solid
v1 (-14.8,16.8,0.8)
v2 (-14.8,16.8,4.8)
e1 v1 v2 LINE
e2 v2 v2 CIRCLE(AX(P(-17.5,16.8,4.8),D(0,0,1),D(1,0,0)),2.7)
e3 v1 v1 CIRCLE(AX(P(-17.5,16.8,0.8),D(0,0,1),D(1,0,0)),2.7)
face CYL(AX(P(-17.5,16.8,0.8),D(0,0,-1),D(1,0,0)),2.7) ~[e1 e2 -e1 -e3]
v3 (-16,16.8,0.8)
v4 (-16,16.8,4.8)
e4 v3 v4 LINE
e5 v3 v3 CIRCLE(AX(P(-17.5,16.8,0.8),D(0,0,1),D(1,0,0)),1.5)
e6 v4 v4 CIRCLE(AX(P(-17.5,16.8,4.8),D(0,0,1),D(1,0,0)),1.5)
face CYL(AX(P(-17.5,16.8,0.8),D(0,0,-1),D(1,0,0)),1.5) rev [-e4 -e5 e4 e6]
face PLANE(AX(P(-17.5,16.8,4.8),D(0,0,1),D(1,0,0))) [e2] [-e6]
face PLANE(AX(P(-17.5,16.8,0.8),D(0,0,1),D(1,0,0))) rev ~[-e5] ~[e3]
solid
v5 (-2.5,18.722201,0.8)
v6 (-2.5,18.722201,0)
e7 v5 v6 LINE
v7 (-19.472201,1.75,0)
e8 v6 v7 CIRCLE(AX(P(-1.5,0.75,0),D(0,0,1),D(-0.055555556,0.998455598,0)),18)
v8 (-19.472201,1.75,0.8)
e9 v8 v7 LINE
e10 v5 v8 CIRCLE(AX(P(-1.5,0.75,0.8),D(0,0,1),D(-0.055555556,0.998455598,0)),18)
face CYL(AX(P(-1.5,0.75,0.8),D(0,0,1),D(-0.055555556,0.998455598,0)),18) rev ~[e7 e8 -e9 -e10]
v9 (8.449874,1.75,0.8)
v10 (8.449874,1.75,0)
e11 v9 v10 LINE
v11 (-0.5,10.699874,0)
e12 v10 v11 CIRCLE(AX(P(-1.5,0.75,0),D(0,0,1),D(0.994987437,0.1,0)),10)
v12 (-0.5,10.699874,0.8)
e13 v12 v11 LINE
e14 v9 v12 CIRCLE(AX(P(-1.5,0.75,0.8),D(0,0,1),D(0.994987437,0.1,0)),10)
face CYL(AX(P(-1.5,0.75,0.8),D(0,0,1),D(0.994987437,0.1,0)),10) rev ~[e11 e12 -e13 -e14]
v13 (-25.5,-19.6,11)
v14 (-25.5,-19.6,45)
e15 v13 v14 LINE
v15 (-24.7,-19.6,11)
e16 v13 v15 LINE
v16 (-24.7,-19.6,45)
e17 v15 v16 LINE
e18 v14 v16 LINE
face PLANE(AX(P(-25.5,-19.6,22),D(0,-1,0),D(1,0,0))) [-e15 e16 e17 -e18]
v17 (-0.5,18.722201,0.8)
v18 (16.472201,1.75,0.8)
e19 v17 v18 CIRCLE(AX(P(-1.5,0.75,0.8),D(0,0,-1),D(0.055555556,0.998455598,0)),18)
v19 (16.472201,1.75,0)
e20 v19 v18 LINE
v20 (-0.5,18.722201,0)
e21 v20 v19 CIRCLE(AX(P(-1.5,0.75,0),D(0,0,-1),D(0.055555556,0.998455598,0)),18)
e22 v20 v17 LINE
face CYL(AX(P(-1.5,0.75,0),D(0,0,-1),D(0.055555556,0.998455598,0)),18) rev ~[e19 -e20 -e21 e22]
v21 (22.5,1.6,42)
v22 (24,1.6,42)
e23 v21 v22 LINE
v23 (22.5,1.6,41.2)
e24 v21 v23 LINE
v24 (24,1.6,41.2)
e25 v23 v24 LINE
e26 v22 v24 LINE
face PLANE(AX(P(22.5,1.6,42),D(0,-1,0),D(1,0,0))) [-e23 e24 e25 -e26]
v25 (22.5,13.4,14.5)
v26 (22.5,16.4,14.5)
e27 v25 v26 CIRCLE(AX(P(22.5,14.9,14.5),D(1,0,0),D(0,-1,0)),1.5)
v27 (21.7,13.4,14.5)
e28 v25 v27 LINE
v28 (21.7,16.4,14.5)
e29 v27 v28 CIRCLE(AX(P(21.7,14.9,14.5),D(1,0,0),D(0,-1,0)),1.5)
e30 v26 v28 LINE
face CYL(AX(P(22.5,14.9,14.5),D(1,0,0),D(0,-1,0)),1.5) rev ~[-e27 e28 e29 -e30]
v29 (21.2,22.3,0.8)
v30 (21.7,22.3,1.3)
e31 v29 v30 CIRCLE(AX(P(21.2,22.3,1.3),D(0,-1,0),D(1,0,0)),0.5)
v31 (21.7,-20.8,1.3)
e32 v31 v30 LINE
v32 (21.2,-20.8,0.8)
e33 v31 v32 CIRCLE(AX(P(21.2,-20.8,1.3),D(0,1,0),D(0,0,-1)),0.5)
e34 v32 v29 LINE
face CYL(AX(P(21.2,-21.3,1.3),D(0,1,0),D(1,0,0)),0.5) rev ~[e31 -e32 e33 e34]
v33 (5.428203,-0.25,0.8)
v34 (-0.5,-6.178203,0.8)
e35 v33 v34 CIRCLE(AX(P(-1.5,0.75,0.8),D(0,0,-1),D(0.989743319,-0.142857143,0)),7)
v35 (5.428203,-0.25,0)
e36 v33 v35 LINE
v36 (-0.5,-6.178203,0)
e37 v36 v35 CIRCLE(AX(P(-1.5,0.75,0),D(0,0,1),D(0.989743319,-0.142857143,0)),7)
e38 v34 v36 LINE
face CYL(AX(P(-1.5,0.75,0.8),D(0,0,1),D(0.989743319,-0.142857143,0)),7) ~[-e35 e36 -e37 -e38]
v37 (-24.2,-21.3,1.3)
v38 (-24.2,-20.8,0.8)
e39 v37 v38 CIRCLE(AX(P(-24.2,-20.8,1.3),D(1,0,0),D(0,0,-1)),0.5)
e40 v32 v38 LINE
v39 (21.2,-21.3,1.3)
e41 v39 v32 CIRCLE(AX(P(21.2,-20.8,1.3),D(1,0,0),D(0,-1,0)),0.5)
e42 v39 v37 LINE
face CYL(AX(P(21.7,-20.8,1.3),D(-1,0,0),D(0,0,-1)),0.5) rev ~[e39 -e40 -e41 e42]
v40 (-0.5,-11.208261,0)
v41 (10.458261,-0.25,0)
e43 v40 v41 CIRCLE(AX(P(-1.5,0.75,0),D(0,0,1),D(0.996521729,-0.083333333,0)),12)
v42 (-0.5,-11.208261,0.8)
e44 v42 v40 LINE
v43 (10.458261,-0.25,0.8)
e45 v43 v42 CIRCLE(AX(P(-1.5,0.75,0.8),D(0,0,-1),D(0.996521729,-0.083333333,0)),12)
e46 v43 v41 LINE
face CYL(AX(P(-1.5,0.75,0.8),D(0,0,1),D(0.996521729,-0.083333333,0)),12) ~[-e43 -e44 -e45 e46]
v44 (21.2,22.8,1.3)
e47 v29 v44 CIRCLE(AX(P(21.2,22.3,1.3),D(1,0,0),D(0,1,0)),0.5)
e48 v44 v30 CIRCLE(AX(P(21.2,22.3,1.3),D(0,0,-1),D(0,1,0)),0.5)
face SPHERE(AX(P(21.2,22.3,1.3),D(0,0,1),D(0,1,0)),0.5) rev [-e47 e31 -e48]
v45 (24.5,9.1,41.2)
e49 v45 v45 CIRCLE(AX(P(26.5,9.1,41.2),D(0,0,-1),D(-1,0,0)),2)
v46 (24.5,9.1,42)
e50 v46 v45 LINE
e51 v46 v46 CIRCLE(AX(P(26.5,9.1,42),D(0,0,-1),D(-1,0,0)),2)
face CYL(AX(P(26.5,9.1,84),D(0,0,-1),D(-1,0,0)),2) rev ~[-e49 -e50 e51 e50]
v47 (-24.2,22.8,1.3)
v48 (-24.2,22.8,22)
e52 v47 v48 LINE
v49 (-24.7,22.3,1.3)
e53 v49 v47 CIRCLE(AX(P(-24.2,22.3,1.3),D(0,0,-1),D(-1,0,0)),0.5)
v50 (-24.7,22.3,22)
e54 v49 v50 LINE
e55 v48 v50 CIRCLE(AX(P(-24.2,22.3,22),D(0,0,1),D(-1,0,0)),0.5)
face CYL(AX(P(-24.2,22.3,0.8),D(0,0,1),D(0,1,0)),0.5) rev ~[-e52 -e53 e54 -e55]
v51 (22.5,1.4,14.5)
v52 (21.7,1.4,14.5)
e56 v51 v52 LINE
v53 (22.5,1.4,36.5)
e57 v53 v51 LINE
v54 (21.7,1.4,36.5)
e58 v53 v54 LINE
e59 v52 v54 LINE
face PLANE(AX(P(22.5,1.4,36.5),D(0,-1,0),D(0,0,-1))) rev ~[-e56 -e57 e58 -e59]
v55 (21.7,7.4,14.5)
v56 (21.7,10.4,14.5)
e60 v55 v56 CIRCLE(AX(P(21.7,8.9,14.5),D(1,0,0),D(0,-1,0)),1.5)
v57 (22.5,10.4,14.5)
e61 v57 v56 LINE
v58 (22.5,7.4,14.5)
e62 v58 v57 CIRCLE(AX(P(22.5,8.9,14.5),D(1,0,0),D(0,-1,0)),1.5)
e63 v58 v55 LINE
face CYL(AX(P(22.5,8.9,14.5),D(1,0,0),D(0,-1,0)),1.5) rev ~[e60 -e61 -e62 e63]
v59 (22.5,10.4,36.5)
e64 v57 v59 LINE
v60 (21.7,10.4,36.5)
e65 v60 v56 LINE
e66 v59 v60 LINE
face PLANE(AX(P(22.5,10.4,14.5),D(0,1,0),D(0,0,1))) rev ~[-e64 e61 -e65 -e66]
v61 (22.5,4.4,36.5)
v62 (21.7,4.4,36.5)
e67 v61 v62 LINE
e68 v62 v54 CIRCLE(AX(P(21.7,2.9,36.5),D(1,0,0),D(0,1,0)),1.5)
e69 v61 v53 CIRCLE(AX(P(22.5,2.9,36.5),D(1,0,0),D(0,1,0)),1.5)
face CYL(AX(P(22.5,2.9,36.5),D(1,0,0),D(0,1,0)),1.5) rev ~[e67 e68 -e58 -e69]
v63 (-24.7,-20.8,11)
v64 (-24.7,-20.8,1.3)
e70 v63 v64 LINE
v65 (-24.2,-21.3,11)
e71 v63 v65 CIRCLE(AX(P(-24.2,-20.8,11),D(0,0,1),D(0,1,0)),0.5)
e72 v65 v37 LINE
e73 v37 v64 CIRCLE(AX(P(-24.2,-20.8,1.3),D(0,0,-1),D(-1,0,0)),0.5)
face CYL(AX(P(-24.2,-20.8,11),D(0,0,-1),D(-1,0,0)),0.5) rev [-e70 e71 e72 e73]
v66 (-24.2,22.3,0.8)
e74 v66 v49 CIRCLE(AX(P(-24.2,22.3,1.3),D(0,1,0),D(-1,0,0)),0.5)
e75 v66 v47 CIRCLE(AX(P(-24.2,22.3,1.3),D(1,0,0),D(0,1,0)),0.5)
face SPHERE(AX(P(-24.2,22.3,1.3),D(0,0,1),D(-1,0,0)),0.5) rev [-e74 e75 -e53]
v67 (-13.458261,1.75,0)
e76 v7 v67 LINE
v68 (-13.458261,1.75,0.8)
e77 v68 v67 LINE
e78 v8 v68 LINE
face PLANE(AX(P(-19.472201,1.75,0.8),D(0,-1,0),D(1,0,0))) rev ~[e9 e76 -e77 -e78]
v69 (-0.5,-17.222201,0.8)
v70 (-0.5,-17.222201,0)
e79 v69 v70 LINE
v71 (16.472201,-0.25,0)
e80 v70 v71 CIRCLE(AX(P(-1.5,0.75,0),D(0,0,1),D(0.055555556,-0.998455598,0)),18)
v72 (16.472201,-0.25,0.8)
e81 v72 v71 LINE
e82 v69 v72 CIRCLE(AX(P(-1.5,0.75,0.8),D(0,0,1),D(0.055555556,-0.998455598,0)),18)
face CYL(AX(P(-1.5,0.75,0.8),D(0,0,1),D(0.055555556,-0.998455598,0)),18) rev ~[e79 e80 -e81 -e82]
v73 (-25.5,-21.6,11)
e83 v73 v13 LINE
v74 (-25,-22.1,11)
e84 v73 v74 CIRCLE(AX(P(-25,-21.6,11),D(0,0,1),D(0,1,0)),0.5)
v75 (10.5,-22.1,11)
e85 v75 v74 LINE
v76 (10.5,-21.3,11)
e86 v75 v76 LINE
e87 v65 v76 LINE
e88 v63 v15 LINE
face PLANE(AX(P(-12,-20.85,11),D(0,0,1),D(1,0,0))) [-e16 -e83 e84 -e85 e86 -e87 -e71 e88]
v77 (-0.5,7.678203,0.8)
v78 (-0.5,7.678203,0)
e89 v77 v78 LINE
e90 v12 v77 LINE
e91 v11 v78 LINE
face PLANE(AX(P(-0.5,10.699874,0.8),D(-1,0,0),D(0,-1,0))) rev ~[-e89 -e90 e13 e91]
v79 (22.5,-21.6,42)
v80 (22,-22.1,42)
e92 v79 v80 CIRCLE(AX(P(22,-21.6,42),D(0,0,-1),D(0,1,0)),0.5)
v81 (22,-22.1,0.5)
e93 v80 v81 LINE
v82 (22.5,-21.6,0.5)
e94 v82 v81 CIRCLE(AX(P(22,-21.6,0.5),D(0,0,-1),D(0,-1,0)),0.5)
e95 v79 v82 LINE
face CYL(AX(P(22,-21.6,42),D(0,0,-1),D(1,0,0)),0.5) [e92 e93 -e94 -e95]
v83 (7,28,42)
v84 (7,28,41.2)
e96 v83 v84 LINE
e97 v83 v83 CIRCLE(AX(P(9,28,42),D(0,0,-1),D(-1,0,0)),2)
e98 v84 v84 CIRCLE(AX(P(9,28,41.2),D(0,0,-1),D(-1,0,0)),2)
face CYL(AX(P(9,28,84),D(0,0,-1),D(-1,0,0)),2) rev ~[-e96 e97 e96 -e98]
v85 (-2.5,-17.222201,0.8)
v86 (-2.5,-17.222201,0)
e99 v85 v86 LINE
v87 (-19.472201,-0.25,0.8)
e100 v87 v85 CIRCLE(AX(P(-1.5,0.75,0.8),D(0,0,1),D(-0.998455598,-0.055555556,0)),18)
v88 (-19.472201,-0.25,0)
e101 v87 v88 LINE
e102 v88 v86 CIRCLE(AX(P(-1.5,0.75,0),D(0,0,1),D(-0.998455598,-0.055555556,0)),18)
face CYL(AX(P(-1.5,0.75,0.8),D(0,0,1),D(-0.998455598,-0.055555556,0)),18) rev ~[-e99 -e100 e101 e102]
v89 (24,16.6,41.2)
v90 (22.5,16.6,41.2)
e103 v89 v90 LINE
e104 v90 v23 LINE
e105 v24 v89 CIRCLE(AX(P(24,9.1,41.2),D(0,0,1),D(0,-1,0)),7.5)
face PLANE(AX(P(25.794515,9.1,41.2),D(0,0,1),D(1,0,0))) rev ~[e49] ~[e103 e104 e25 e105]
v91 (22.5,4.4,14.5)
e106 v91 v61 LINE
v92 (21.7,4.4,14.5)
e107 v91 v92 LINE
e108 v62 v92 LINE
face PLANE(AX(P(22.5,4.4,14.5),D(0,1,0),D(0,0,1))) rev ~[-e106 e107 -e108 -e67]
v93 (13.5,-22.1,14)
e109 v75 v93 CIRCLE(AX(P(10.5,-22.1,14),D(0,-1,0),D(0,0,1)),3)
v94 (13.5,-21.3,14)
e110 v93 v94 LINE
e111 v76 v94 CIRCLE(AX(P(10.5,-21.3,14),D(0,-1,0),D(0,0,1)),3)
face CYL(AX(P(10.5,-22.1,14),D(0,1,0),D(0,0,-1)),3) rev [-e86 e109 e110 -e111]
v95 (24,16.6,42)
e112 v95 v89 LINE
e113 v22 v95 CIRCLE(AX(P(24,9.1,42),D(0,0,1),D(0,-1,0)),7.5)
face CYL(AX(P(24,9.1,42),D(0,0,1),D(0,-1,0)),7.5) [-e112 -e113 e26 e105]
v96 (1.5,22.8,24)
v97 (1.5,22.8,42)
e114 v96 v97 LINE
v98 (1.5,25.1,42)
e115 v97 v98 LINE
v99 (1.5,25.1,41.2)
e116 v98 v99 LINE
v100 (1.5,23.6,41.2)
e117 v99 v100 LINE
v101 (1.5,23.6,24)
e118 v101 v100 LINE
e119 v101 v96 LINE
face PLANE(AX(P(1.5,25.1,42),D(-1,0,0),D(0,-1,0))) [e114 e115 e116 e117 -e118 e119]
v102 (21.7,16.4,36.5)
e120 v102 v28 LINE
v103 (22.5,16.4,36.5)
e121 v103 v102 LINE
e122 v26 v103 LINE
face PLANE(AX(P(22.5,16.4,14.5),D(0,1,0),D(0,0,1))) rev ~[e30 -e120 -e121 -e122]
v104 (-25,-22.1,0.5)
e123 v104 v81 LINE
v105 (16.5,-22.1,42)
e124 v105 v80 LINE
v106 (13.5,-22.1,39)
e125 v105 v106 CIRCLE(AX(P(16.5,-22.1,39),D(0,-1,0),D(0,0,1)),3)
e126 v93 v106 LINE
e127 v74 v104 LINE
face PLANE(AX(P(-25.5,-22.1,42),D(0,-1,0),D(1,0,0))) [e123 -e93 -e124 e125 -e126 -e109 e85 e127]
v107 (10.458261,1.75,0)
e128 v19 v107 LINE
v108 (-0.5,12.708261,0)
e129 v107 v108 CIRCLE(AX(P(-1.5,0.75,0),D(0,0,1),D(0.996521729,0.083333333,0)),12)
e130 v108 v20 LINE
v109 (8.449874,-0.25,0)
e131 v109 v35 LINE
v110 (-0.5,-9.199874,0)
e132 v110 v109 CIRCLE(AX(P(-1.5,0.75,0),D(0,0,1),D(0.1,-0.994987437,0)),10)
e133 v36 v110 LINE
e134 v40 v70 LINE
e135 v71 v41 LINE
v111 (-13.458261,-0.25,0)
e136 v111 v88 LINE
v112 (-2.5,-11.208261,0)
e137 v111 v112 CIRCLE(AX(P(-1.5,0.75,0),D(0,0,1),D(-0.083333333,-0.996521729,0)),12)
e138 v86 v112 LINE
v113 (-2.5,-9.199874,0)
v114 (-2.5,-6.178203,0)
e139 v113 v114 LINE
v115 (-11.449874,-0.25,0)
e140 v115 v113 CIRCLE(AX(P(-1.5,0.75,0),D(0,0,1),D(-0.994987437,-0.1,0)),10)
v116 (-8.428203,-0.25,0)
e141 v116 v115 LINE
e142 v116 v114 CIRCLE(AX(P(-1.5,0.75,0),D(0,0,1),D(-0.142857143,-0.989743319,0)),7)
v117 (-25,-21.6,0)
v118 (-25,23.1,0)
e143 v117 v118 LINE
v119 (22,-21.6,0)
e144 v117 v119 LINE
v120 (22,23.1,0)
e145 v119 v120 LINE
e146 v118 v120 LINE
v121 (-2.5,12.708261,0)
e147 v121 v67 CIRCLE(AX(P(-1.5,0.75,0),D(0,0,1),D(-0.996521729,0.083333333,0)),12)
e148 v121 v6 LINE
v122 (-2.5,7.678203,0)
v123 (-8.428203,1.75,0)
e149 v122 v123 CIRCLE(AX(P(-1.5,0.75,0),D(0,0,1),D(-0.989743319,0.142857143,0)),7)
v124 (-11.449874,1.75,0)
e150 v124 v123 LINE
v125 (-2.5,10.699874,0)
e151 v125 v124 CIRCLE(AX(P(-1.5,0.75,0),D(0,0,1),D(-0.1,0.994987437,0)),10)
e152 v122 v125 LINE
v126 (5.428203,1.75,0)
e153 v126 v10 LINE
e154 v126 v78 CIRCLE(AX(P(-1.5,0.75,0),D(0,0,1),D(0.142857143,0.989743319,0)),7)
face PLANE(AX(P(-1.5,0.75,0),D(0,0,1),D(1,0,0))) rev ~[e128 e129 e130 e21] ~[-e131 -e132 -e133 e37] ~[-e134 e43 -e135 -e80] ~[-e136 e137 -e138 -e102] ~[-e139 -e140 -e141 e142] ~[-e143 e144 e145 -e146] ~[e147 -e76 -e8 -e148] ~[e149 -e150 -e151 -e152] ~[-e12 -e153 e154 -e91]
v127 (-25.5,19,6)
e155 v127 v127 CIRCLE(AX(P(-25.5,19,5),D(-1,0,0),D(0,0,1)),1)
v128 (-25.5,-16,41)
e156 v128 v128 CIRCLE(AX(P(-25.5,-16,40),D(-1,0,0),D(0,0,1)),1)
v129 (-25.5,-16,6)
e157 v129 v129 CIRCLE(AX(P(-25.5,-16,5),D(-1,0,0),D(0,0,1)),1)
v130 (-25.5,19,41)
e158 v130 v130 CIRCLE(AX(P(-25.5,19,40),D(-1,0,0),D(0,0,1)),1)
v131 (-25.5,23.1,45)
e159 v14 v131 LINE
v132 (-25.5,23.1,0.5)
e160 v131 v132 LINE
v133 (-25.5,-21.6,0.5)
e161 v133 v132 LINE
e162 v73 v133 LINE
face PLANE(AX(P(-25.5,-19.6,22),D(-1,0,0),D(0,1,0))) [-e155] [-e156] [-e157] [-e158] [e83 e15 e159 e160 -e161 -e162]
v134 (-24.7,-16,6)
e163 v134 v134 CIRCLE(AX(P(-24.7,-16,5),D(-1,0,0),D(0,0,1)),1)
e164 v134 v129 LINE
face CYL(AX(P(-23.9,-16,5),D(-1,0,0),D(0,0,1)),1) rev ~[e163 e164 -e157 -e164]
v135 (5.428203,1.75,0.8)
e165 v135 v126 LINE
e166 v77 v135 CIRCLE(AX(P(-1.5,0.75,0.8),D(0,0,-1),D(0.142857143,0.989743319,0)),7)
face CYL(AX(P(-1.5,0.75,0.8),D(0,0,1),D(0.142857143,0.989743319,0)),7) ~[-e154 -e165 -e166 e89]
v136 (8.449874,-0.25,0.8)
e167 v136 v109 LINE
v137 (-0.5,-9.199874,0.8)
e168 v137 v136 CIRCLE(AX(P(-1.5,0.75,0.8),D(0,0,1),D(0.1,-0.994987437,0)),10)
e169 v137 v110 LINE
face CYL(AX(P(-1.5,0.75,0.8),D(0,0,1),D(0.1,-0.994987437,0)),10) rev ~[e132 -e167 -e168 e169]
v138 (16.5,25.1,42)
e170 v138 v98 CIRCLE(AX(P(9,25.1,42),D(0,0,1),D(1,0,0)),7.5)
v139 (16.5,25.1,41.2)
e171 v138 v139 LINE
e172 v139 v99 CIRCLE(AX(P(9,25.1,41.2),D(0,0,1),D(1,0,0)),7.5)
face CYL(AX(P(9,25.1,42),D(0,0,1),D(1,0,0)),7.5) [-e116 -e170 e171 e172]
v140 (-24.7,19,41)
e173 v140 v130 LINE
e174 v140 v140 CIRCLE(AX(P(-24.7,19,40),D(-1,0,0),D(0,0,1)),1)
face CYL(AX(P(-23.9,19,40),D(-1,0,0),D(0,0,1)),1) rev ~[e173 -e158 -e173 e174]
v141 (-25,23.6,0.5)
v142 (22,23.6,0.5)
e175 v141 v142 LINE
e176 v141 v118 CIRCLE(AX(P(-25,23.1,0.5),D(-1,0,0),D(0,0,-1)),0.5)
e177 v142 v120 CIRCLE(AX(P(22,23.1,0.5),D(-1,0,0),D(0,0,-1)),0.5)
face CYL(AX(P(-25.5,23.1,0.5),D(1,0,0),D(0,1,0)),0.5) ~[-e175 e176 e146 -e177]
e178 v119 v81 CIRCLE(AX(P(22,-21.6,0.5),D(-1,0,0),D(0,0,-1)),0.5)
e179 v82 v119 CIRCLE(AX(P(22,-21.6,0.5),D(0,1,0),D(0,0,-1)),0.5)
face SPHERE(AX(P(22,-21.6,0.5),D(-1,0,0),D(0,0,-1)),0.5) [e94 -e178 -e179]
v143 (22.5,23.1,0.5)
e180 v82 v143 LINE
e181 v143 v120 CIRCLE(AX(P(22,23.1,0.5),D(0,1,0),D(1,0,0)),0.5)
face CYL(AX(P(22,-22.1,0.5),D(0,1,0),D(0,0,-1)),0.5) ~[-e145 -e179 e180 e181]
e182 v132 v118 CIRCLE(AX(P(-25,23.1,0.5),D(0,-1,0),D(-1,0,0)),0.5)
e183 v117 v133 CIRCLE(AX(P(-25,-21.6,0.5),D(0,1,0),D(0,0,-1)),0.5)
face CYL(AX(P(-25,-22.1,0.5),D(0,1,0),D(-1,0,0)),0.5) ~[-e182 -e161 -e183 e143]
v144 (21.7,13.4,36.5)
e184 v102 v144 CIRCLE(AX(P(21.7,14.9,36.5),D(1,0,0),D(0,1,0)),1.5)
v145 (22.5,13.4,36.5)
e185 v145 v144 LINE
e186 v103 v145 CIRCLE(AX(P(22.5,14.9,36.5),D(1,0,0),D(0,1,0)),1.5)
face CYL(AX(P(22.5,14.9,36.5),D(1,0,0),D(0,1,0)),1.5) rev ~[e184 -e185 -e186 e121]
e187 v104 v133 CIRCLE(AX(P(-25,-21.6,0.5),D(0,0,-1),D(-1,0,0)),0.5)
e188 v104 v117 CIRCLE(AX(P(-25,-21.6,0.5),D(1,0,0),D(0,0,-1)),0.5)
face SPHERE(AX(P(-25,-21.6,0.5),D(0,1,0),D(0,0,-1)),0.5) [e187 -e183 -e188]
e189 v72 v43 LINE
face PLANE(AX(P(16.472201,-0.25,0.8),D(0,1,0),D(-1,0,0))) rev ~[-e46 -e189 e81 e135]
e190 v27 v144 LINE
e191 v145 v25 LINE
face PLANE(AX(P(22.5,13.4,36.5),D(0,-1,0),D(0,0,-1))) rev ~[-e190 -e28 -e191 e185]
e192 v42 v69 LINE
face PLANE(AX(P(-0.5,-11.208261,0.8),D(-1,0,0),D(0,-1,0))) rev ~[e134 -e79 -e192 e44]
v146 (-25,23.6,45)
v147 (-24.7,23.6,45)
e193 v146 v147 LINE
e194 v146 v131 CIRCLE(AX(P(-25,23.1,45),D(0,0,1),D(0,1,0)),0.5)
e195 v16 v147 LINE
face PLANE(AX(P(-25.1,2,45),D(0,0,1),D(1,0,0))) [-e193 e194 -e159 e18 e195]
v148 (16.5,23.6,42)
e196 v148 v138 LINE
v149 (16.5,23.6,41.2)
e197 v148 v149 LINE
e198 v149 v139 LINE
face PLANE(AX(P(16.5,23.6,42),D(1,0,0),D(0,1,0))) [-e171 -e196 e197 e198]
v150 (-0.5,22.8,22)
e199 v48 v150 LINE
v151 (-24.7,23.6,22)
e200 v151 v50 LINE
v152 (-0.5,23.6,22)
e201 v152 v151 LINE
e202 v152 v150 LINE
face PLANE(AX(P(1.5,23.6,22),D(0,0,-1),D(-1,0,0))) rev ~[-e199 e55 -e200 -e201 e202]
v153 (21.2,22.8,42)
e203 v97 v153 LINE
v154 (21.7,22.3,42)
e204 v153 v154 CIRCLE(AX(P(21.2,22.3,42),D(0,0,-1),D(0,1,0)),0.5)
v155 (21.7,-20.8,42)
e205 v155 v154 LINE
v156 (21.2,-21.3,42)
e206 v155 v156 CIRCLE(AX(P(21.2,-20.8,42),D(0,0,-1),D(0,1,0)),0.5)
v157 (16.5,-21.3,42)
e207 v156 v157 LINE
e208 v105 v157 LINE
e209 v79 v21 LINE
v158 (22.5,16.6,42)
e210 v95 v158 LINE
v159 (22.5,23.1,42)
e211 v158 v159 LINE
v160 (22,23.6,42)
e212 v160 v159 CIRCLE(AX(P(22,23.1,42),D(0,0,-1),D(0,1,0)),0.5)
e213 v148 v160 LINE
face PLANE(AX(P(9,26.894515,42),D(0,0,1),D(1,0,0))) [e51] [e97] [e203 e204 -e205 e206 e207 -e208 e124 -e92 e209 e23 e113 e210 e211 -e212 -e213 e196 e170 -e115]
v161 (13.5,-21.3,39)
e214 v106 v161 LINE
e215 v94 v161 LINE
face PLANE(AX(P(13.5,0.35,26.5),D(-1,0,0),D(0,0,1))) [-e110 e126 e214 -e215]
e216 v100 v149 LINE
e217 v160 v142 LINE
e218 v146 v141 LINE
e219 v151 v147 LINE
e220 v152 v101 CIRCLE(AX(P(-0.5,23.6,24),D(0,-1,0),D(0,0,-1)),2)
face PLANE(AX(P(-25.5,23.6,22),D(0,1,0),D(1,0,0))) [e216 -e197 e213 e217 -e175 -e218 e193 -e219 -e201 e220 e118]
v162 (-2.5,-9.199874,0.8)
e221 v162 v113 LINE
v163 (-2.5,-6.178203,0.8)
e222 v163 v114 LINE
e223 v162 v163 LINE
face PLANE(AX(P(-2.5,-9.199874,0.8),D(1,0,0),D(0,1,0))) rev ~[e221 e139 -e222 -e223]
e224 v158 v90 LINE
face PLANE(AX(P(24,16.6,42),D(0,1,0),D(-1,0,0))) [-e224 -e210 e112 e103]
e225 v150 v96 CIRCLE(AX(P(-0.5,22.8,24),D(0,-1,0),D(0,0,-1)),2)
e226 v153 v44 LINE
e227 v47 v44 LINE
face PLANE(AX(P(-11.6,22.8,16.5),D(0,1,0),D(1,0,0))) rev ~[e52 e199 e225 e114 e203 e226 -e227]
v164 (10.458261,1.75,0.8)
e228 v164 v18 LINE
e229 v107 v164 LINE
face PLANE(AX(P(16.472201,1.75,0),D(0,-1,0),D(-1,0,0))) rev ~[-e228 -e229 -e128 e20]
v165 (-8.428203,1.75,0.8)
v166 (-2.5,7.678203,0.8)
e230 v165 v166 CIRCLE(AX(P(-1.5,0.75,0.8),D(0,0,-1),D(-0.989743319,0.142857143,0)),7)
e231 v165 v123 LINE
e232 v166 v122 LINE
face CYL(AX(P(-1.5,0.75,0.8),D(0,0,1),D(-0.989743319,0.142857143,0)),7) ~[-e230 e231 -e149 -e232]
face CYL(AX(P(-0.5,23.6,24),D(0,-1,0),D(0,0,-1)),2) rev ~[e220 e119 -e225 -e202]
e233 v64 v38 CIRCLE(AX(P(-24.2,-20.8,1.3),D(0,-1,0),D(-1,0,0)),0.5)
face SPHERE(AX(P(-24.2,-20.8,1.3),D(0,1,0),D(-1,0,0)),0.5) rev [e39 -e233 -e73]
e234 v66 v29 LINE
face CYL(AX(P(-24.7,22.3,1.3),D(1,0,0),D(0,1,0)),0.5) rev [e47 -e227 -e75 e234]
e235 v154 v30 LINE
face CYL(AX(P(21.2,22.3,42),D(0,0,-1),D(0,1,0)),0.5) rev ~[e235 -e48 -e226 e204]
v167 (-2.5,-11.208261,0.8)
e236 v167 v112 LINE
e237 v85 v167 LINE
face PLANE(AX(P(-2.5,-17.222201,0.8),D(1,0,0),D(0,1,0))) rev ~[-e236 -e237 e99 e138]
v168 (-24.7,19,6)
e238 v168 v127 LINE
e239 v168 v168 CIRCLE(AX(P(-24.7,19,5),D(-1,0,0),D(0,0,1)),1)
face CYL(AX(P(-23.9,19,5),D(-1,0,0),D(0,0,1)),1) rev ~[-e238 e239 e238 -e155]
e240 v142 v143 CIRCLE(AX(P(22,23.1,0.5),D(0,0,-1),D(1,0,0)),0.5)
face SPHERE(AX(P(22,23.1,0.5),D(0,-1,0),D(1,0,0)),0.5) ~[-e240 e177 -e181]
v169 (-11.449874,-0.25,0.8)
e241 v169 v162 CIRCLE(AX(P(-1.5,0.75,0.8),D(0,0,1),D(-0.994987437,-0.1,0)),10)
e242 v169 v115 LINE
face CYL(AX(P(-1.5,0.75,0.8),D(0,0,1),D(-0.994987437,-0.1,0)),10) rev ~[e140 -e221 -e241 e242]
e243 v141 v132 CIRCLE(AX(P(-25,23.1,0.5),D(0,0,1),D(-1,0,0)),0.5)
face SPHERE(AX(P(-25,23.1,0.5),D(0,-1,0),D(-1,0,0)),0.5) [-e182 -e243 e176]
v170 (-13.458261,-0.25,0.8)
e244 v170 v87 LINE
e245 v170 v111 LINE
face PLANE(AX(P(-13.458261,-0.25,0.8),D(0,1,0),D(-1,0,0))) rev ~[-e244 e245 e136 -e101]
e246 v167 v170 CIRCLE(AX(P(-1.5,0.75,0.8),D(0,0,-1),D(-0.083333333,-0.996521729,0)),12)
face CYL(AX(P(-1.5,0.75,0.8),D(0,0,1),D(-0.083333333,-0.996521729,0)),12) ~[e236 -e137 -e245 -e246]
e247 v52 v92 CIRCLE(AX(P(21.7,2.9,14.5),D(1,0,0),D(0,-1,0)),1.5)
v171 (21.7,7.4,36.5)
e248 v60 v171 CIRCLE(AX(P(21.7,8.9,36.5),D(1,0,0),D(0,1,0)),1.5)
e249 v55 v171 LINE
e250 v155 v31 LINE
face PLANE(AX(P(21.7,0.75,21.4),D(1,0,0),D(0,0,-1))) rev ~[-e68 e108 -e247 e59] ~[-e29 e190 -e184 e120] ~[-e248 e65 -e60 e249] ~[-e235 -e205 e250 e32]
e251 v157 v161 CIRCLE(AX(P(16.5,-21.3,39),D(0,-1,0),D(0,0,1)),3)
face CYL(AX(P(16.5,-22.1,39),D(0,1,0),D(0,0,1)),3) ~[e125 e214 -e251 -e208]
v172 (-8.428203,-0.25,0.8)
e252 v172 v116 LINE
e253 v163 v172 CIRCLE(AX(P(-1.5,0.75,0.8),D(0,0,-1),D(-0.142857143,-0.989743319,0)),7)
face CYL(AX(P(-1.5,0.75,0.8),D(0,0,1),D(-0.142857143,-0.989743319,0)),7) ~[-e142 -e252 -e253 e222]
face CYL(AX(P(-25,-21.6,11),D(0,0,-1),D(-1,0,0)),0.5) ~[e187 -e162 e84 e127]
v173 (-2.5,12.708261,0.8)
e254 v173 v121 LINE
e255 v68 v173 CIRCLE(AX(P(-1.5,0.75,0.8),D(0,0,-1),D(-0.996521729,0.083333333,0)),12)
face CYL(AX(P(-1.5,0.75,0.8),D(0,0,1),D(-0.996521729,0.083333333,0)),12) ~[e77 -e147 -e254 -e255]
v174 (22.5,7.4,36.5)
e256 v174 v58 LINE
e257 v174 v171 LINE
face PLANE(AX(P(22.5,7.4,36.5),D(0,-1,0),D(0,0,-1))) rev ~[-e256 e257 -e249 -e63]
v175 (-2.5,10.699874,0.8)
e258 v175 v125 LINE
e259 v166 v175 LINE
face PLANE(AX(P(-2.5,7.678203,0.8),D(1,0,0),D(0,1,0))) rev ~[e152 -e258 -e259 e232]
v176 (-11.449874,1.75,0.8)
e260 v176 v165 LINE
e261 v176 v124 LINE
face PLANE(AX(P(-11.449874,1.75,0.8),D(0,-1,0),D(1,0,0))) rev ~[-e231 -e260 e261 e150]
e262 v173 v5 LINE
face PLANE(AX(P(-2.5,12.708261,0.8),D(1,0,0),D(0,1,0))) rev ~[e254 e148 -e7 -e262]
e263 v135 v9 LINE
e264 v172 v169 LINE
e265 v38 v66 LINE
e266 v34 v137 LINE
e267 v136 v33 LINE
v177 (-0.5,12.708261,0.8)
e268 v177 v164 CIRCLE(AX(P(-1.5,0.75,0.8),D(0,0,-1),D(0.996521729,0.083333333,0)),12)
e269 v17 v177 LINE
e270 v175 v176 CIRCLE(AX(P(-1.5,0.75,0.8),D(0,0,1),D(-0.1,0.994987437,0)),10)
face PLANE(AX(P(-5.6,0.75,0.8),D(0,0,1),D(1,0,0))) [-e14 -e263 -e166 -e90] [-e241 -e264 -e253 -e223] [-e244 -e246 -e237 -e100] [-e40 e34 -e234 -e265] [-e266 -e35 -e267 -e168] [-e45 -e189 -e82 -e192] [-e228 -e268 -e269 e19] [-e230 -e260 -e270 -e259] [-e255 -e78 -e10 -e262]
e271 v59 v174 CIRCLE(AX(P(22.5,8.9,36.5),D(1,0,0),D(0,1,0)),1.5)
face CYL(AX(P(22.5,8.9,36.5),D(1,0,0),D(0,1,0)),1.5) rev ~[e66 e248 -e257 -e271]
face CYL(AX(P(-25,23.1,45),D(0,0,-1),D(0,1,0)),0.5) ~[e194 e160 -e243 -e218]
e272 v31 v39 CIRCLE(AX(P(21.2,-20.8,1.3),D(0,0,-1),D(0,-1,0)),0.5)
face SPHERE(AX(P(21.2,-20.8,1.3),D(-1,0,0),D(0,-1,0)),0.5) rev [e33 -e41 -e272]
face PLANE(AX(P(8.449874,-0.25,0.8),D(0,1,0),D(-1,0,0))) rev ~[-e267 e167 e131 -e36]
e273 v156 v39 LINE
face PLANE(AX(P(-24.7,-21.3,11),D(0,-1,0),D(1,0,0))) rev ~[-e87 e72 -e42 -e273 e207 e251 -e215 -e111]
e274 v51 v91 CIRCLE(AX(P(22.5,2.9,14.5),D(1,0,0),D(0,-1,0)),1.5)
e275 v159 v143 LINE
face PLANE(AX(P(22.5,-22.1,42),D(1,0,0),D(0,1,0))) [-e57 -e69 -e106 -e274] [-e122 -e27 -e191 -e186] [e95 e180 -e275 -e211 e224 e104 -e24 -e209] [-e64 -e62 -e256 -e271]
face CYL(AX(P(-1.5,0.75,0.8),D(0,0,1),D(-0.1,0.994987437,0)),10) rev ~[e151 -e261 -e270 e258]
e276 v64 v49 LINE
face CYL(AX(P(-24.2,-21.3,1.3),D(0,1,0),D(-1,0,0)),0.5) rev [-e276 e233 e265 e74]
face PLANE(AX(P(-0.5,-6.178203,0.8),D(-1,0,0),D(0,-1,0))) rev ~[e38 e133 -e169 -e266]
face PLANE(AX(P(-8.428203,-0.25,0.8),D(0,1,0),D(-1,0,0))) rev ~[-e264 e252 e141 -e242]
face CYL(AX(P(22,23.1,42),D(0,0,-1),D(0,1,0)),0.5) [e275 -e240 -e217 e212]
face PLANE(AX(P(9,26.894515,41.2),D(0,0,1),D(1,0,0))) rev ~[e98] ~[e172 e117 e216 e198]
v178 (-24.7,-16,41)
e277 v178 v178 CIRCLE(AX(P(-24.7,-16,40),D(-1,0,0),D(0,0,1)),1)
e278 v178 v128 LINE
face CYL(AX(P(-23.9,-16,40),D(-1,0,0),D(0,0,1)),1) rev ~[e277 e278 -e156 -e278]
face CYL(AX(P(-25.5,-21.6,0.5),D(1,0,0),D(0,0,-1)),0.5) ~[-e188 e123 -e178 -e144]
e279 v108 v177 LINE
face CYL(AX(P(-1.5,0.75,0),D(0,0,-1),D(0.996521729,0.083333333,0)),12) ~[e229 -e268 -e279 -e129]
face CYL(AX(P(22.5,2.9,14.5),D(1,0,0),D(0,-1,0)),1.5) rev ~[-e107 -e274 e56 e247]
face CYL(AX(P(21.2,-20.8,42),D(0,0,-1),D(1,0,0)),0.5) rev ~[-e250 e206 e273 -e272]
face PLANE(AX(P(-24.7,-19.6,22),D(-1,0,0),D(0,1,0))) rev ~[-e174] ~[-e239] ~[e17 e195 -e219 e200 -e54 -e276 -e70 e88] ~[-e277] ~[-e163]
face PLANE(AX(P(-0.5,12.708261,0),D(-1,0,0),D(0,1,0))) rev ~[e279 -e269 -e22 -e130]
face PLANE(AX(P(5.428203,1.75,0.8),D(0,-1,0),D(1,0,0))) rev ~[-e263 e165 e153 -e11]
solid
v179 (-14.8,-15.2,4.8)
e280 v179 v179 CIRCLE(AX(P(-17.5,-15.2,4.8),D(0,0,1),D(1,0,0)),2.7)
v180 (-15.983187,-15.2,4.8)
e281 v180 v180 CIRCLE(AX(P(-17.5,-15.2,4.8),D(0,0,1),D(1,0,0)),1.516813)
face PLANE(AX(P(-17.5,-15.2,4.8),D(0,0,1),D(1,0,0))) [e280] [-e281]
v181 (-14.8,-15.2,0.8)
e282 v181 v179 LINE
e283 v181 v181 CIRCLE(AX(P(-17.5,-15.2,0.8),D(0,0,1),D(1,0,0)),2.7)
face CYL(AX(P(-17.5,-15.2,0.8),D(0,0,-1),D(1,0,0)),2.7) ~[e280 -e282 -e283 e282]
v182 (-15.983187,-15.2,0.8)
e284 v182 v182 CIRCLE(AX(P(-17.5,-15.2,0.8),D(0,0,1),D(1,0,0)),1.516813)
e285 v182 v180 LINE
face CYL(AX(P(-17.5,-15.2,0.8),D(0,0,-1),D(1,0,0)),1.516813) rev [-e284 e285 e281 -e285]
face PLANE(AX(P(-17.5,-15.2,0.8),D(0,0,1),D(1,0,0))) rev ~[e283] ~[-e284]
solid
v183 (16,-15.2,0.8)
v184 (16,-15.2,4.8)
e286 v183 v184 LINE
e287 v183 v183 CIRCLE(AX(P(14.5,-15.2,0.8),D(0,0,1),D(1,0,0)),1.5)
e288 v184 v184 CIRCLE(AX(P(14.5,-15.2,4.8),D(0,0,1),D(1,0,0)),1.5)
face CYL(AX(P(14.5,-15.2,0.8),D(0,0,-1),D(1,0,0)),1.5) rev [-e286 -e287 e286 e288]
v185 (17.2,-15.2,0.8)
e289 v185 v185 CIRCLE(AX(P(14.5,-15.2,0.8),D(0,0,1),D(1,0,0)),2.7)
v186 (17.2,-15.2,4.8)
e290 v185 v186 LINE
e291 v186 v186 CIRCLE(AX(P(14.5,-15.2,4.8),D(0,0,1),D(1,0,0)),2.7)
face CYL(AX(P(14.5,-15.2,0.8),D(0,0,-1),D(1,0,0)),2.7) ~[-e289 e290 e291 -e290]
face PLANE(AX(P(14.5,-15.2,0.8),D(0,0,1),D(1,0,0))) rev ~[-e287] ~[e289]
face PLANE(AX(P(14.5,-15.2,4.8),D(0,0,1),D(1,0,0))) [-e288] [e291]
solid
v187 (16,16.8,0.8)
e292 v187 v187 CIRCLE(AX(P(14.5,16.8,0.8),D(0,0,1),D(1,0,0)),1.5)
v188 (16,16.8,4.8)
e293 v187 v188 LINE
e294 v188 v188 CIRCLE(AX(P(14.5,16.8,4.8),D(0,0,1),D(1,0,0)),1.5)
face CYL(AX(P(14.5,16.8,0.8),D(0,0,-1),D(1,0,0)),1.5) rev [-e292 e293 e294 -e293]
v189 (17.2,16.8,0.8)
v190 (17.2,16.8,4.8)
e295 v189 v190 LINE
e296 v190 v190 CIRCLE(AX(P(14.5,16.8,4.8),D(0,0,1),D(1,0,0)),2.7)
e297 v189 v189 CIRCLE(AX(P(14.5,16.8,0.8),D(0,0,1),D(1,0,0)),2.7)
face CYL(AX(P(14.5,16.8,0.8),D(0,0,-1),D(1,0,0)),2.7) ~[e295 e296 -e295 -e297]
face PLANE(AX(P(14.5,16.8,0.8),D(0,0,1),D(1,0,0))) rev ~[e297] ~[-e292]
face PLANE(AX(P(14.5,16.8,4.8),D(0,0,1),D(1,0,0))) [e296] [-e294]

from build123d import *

# Parameters (mm, degrees)
CROQUIS1_W                        = 48
CROQUIS1_H                        = 45.7
SALIENTE_EXTRUIR1_DEPTH           = 42
CROQUIS2_W                        = 27
CROQUIS2_H                        = 20
CORTAR_EXTRUIR1_DEPTH             = 68.102458971
CROQUIS3_W                        = 0.8
CROQUIS3_H                        = 43.2
SALIENTE_EXTRUIR2_DEPTH           = 23
CROQUIS4_W                        = 27
CROQUIS4_H                        = 2.5
CORTAR_EXTRUIR2_DEPTH             = 11
CORTAR_EXTRUIR3_REACH             = 70.493
CROQUIS6_W                        = 26.2
CROQUIS6_H                        = 11
CROQUIS7_W                        = 31
CROQUIS7_H                        = 44.9
CORTAR_EXTRUIR4_DEPTH             = 12
CROQUIS8_W                        = 38.2
CROQUIS8_H                        = 44.1
CORTAR_EXTRUIR5_DEPTH             = 10.2
CORTAR_EXTRUIR6_REACH             = 71.353
CROQUIS9_W                        = 41.2
CROQUIS9_H                        = 44.1
CORTAR_EXTRUIR7_DEPTH             = 57.221437193
CORTAR_EXTRUIR8_DEPTH             = 57.221437193
CORTAR_EXTRUIR9_DEPTH             = 57.221437193
CORTAR_EXTRUIR10_DEPTH            = 57.221437193
CORTAR_EXTRUIR11_DEPTH            = 57.221437193
CORTAR_EXTRUIR12_DEPTH            = 57.221437193
CORTAR_EXTRUIR13_DEPTH            = 57.221437193
CORTAR_EXTRUIR14_REACH            = 71.9
CORTAR_EXTRUIR15_REACH            = 71.9
CORTAR_EXTRUIR16_REACH            = 71.9
CORTAR_EXTRUIR17_DEPTH            = 57.852528528
SALIENTE_EXTRUIR3_DEPTH           = 0.8
SALIENTE_EXTRUIR4_DEPTH           = 0.8
DI_METRO_DE_TALADRO_2_0_2_1_D     = 2
DI_METRO_DE_TALADRO_2_0_2_1_DEPTH = 0.8
DI_METRO_DE_TALADRO_4_0_4_1_D     = 4
DI_METRO_DE_TALADRO_4_0_4_1_DEPTH = 42
REDONDEO1_R                       = 0.5
REDONDEO2_R                       = 2
REDONDEO3_R                       = 3
CROQUIS33_R                       = 2.7
CROQUIS33_R_2                     = 1.5
SALIENTE_EXTRUIR5_DEPTH           = 4
SALIENTE_EXTRUIR5_2_DEPTH         = 4
CROQUIS33_R_3                     = 1.516813283
SALIENTE_EXTRUIR5_3_DEPTH         = 4
SALIENTE_EXTRUIR5_4_DEPTH         = 4


with BuildPart() as part:
    # Croquis1 → Saliente-Extruir1 (new body)
    with BuildSketch(Plane.XY.offset(42)):
        with Locations((-1.5, 0.75)):
            Rectangle(CROQUIS1_W, CROQUIS1_H)
    extrude(amount=-SALIENTE_EXTRUIR1_DEPTH)

    # Croquis2 → Cortar-Extruir1 (cut, through all)
    with BuildSketch(Plane(origin=(0, 23.6, 0), x_dir=(-1, 0, 0), z_dir=(0, 1, 0))):
        with Locations((12, 32)):
            Rectangle(CROQUIS2_W, CROQUIS2_H)
    extrude(amount=-CORTAR_EXTRUIR1_DEPTH, mode=Mode.SUBTRACT)

    # Croquis3 → Saliente-Extruir2 (add)
    with BuildSketch(Plane.XY.offset(22)):
        with Locations((-25.1, 2)):
            Rectangle(CROQUIS3_W, CROQUIS3_H)
    extrude(amount=SALIENTE_EXTRUIR2_DEPTH)

    # Croquis4 → Cortar-Extruir2 (cut)
    with BuildSketch(Plane.XY.offset(22)):
        with Locations((-12, -20.85)):
            Rectangle(CROQUIS4_W, CROQUIS4_H)
    extrude(amount=-CORTAR_EXTRUIR2_DEPTH, mode=Mode.SUBTRACT)

    # Croquis6 → Cortar-Extruir3 (cut, up to next)
    with BuildSketch(Plane(origin=(0, 22.8, 0), x_dir=(1, 0, 0), z_dir=(0, 1, 0)), mode=Mode.PRIVATE) as cortar_extruir3_sk1:
        with Locations((-11.6, -16.5)):
            Rectangle(CROQUIS6_W, CROQUIS6_H)
    cortar_extruir3_tool1 = extrude(cortar_extruir3_sk1.sketch, amount=-CORTAR_EXTRUIR3_REACH, mode=Mode.PRIVATE) & part.part
    add(cortar_extruir3_tool1.solids().sort_by_distance((-11.6, 22.8, 16.5))[0], mode=Mode.SUBTRACT)

    # Croquis7 → Cortar-Extruir4 (cut)
    with BuildSketch(Plane.ZY.offset(-1.5)):
        with Locations((26.5, 0.35)):
            Rectangle(CROQUIS7_W, CROQUIS7_H)
    extrude(amount=-CORTAR_EXTRUIR4_DEPTH, mode=Mode.SUBTRACT)

    # Croquis8 → Cortar-Extruir5 (cut)
    with BuildSketch(Plane.XY.offset(11)):
        with Locations((-5.6, 0.75)):
            Rectangle(CROQUIS8_W, CROQUIS8_H)
    extrude(amount=-CORTAR_EXTRUIR5_DEPTH, mode=Mode.SUBTRACT)

    # Croquis9 → Cortar-Extruir6 (cut, up to next)
    with BuildSketch(Plane(origin=(21.7, 0, 0), x_dir=(0, 0, -1), z_dir=(1, 0, 0)), mode=Mode.PRIVATE) as cortar_extruir6_sk1:
        with Locations((-21.4, 0.75)):
            Rectangle(CROQUIS9_W, CROQUIS9_H)
    cortar_extruir6_tool1 = extrude(cortar_extruir6_sk1.sketch, amount=-CORTAR_EXTRUIR6_REACH, mode=Mode.PRIVATE) & part.part
    add(cortar_extruir6_tool1.solids().sort_by_distance((21.7, 0.75, 21.4))[0], mode=Mode.SUBTRACT)

    # Croquis10 → Cortar-Extruir7 (cut, through all)
    with BuildSketch(Plane.XY.offset(0.8)):
        with BuildLine():
            Line((-0.5, -6.17820323), (-0.5, -9.199874371))
            ThreePointArc((-0.5, -9.199874371), (5.571067812, -6.321067812), (8.449874371, -0.25))
            Line((8.449874371, -0.25), (5.42820323, -0.25))
            ThreePointArc((5.42820323, -0.25), (3.449747468, -4.199747468), (-0.5, -6.17820323))
        make_face()
    extrude(amount=-CORTAR_EXTRUIR7_DEPTH, mode=Mode.SUBTRACT)

    # Croquis11 → Cortar-Extruir8 (cut, through all)
    with BuildSketch(Plane.XY.offset(0.8)):
        with BuildLine():
            Line((-0.5, -11.208260743), (-0.5, -17.222200756))
            ThreePointArc((-0.5, -17.222200756), (11.227922061, -11.977922061), (16.472200756, -0.25))
            Line((16.472200756, -0.25), (10.458260743, -0.25))
            ThreePointArc((10.458260743, -0.25), (6.985281374, -7.735281374), (-0.5, -11.208260743))
        make_face()
    extrude(amount=-CORTAR_EXTRUIR8_DEPTH, mode=Mode.SUBTRACT)

    # Croquis12 → Cortar-Extruir9 (cut, through all)
    with BuildSketch(Plane.XY.offset(0.8)):
        with BuildLine():
            Line((-8.42820323, -0.25), (-11.449874371, -0.25))
            ThreePointArc((-11.449874371, -0.25), (-8.571067812, -6.321067812), (-2.5, -9.199874371))
            Line((-2.5, -9.199874371), (-2.5, -6.17820323))
            ThreePointArc((-2.5, -6.17820323), (-6.449747468, -4.199747468), (-8.42820323, -0.25))
        make_face()
    extrude(amount=-CORTAR_EXTRUIR9_DEPTH, mode=Mode.SUBTRACT)

    # Croquis13 → Cortar-Extruir10 (cut, through all)
    with BuildSketch(Plane.XY.offset(0.8)):
        with BuildLine():
            Line((-13.458260743, -0.25), (-19.472200756, -0.25))
            ThreePointArc((-19.472200756, -0.25), (-14.227922061, -11.977922061), (-2.5, -17.222200756))
            Line((-2.5, -17.222200756), (-2.5, -11.208260743))
            ThreePointArc((-2.5, -11.208260743), (-9.985281374, -7.735281374), (-13.458260743, -0.25))
        make_face()
    extrude(amount=-CORTAR_EXTRUIR10_DEPTH, mode=Mode.SUBTRACT)

    # Croquis14 → Cortar-Extruir11 (cut, through all)
    with BuildSketch(Plane.XY.offset(0.8)):
        with BuildLine():
            Line((-2.5, 7.67820323), (-2.5, 10.699874371))
            ThreePointArc((-2.5, 10.699874371), (-8.571067812, 7.821067812), (-11.449874371, 1.75))
            Line((-11.449874371, 1.75), (-8.42820323, 1.75))
            ThreePointArc((-8.42820323, 1.75), (-6.449747468, 5.699747468), (-2.5, 7.67820323))
        make_face()
    extrude(amount=-CORTAR_EXTRUIR11_DEPTH, mode=Mode.SUBTRACT)

    # Croquis15 → Cortar-Extruir12 (cut, through all)
    with BuildSketch(Plane.XY.offset(0.8)):
        with BuildLine():
            Line((-2.5, 12.708260743), (-2.5, 18.722200756))
            ThreePointArc((-2.5, 18.722200756), (-14.227922061, 13.477922061), (-19.472200756, 1.75))
            Line((-19.472200756, 1.75), (-13.458260743, 1.75))
            ThreePointArc((-13.458260743, 1.75), (-9.985281374, 9.235281374), (-2.5, 12.708260743))
        make_face()
    extrude(amount=-CORTAR_EXTRUIR12_DEPTH, mode=Mode.SUBTRACT)

    # Croquis16 → Cortar-Extruir13 (cut, through all)
    with BuildSketch(Plane.XY.offset(0.8)):
        with BuildLine():
            Line((5.42820323, 1.75), (8.449874371, 1.75))
            ThreePointArc((8.449874371, 1.75), (5.571067812, 7.821067812), (-0.5, 10.699874371))
            Line((-0.5, 10.699874371), (-0.5, 7.67820323))
            ThreePointArc((-0.5, 7.67820323), (3.449747468, 5.699747468), (5.42820323, 1.75))
        make_face()
    extrude(amount=-CORTAR_EXTRUIR13_DEPTH, mode=Mode.SUBTRACT)

    # Croquis17 → Cortar-Extruir14 (cut, up to next)
    with BuildSketch(Plane(origin=(22.5, 0, 0), x_dir=(0, 0, -1), z_dir=(1, 0, 0)), mode=Mode.PRIVATE) as cortar_extruir14_sk1:
        with BuildLine():
            Line((-36.5, 1.4), (-14.5, 1.4))
            ThreePointArc((-14.5, 1.4), (-13, 2.9), (-14.5, 4.4))
            Line((-14.5, 4.4), (-36.5, 4.4))
            ThreePointArc((-36.5, 4.4), (-38, 2.9), (-36.5, 1.4))
        make_face()
    cortar_extruir14_tool1 = extrude(cortar_extruir14_sk1.sketch, amount=-CORTAR_EXTRUIR14_REACH, mode=Mode.PRIVATE) & part.part
    add(cortar_extruir14_tool1.solids().sort_by_distance((22.5, 2.9, 25.5))[0], mode=Mode.SUBTRACT)

    # Croquis18 → Cortar-Extruir15 (cut, up to next)
    with BuildSketch(Plane(origin=(22.5, 0, 0), x_dir=(0, 0, -1), z_dir=(1, 0, 0)), mode=Mode.PRIVATE) as cortar_extruir15_sk1:
        with BuildLine():
            Line((-36.5, 7.4), (-14.5, 7.4))
            ThreePointArc((-14.5, 7.4), (-13, 8.9), (-14.5, 10.4))
            Line((-14.5, 10.4), (-36.5, 10.4))
            ThreePointArc((-36.5, 10.4), (-38, 8.9), (-36.5, 7.4))
        make_face()
    cortar_extruir15_tool1 = extrude(cortar_extruir15_sk1.sketch, amount=-CORTAR_EXTRUIR15_REACH, mode=Mode.PRIVATE) & part.part
    add(cortar_extruir15_tool1.solids().sort_by_distance((22.5, 8.9, 25.5))[0], mode=Mode.SUBTRACT)

    # Croquis19 → Cortar-Extruir16 (cut, up to next)
    with BuildSketch(Plane(origin=(22.5, 0, 0), x_dir=(0, 0, -1), z_dir=(1, 0, 0)), mode=Mode.PRIVATE) as cortar_extruir16_sk1:
        with BuildLine():
            Line((-36.5, 13.4), (-14.5, 13.4))
            ThreePointArc((-14.5, 13.4), (-13, 14.9), (-14.5, 16.4))
            Line((-14.5, 16.4), (-36.5, 16.4))
            ThreePointArc((-36.5, 16.4), (-38, 14.9), (-36.5, 13.4))
        make_face()
    cortar_extruir16_tool1 = extrude(cortar_extruir16_sk1.sketch, amount=-CORTAR_EXTRUIR16_REACH, mode=Mode.PRIVATE) & part.part
    add(cortar_extruir16_tool1.solids().sort_by_distance((22.5, 14.9, 25.5))[0], mode=Mode.SUBTRACT)

    # Croquis20 → Cortar-Extruir17 (cut, through all)
    with BuildSketch(Plane(origin=(0, 0, 0), x_dir=(-1, 0, 0), z_dir=(0, 0, -1))):
        with BuildLine():
            Line((-16.472200756, 1.75), (-10.458260743, 1.75))
            ThreePointArc((-10.458260743, 1.75), (-6.985281374, 9.235281374), (0.5, 12.708260743))
            Line((0.5, 12.708260743), (0.5, 18.722200756))
            ThreePointArc((0.5, 18.722200756), (-11.227922061, 13.477922061), (-16.472200756, 1.75))
        make_face()
    extrude(amount=-CORTAR_EXTRUIR17_DEPTH, mode=Mode.SUBTRACT)

    # Croquis21 → Saliente-Extruir3 (add)
    with BuildSketch(Plane.XY.offset(42)):
        with BuildLine():
            Line((1.5, 25.1), (1.5, 23.6))
            Line((1.5, 23.6), (16.5, 23.6))
            Line((16.5, 23.6), (16.5, 25.1))
            ThreePointArc((16.5, 25.1), (9, 32.6), (1.5, 25.1))
        make_face()
    extrude(amount=-SALIENTE_EXTRUIR3_DEPTH)

    # Croquis22 → Saliente-Extruir4 (add)
    with BuildSketch(Plane.XY.offset(42)):
        with BuildLine():
            Line((24, 16.6), (22.5, 16.6))
            Line((22.5, 16.6), (22.5, 1.6))
            Line((22.5, 1.6), (24, 1.6))
            ThreePointArc((24, 1.6), (31.5, 9.1), (24, 16.6))
        make_face()
    extrude(amount=-SALIENTE_EXTRUIR4_DEPTH)

    # Diámetro de taladro Ø2.0 (2)1
    with Locations(Plane(origin=(-24.7, 0, 0), x_dir=(0, 0, -1), z_dir=(1, 0, 0))):
        with Locations((-40, 19), (-40, -16), (-5, -16), (-5, 19)):
            Hole(DI_METRO_DE_TALADRO_2_0_2_1_D / 2, depth=DI_METRO_DE_TALADRO_2_0_2_1_DEPTH)

    # Diámetro de taladro Ø4.0 (4)1
    with Locations(Plane.XY.offset(42)):
        with Locations((9, 28), (26.5, 9.1)):
            Hole(DI_METRO_DE_TALADRO_4_0_4_1_D / 2, depth=DI_METRO_DE_TALADRO_4_0_4_1_DEPTH)

    # Redondeo1
    redondeo1_edges = [part.edges().sort_by_distance(p)[0] for p in [
        (21.7, 22.8, 21.4),
        (-25.5, 0.75, 0),
        (-1.5, -22.1, 0),
        (22.5, 0.75, 0),
        (-24.7, 22.8, 11.4),
        (22.5, -22.1, 21),
        (-25.5, -22.1, 5.5),
        (-25.5, 23.6, 22.5),
        (22.5, 23.6, 21),
        (-24.7, 0.75, 0.8),
        (-24.7, -21.3, 5.9),
        (-1.5, 22.8, 0.8),
        (-1.5, -21.3, 0.8),
        (-1.5, 23.6, 0),
        (21.7, -21.3, 21.4),
        (21.7, 0.75, 0.8),
    ]]
    fillet(redondeo1_edges, radius=REDONDEO1_R)

    # Redondeo2
    redondeo2_edges = [part.edges().sort_by_distance(p)[0] for p in [
        (1.5, 23.2, 22),
    ]]
    fillet(redondeo2_edges, radius=REDONDEO2_R)

    # Redondeo3
    redondeo3_edges = [part.edges().sort_by_distance(p)[0] for p in [
        (13.5, -21.7, 42),
        (13.5, -21.7, 11),
    ]]
    fillet(redondeo3_edges, radius=REDONDEO3_R)


with BuildPart() as body_2:
    # Croquis33 → Saliente-Extruir5 (new body)
    with BuildSketch(Plane.XY.offset(0.8)):
        with Locations((-17.5, 16.8)):
            Circle(CROQUIS33_R)
        with Locations((-17.5, 16.8)):
            Circle(CROQUIS33_R_2, mode=Mode.SUBTRACT)
    extrude(amount=SALIENTE_EXTRUIR5_DEPTH)


with BuildPart() as body_3:
    # Croquis33 → Saliente-Extruir5 2 (new body)
    with BuildSketch(Plane.XY.offset(0.8)):
        with Locations((14.5, 16.8)):
            Circle(CROQUIS33_R)
        with Locations((14.5, 16.8)):
            Circle(CROQUIS33_R_2, mode=Mode.SUBTRACT)
    extrude(amount=SALIENTE_EXTRUIR5_2_DEPTH)


with BuildPart() as body_4:
    # Croquis33 → Saliente-Extruir5 3 (new body)
    with BuildSketch(Plane.XY.offset(0.8)):
        with Locations((-17.5, -15.2)):
            Circle(CROQUIS33_R)
        with Locations((-17.5, -15.2)):
            Circle(CROQUIS33_R_3, mode=Mode.SUBTRACT)
    extrude(amount=SALIENTE_EXTRUIR5_3_DEPTH)


with BuildPart() as body_5:
    # Croquis33 → Saliente-Extruir5 4 (new body)
    with BuildSketch(Plane.XY.offset(0.8)):
        with Locations((14.5, -15.2)):
            Circle(CROQUIS33_R)
        with Locations((14.5, -15.2)):
            Circle(CROQUIS33_R_2, mode=Mode.SUBTRACT)
    extrude(amount=SALIENTE_EXTRUIR5_4_DEPTH)


solid = Compound([part.part, body_2.part, body_3.part, body_4.part, body_5.part])
